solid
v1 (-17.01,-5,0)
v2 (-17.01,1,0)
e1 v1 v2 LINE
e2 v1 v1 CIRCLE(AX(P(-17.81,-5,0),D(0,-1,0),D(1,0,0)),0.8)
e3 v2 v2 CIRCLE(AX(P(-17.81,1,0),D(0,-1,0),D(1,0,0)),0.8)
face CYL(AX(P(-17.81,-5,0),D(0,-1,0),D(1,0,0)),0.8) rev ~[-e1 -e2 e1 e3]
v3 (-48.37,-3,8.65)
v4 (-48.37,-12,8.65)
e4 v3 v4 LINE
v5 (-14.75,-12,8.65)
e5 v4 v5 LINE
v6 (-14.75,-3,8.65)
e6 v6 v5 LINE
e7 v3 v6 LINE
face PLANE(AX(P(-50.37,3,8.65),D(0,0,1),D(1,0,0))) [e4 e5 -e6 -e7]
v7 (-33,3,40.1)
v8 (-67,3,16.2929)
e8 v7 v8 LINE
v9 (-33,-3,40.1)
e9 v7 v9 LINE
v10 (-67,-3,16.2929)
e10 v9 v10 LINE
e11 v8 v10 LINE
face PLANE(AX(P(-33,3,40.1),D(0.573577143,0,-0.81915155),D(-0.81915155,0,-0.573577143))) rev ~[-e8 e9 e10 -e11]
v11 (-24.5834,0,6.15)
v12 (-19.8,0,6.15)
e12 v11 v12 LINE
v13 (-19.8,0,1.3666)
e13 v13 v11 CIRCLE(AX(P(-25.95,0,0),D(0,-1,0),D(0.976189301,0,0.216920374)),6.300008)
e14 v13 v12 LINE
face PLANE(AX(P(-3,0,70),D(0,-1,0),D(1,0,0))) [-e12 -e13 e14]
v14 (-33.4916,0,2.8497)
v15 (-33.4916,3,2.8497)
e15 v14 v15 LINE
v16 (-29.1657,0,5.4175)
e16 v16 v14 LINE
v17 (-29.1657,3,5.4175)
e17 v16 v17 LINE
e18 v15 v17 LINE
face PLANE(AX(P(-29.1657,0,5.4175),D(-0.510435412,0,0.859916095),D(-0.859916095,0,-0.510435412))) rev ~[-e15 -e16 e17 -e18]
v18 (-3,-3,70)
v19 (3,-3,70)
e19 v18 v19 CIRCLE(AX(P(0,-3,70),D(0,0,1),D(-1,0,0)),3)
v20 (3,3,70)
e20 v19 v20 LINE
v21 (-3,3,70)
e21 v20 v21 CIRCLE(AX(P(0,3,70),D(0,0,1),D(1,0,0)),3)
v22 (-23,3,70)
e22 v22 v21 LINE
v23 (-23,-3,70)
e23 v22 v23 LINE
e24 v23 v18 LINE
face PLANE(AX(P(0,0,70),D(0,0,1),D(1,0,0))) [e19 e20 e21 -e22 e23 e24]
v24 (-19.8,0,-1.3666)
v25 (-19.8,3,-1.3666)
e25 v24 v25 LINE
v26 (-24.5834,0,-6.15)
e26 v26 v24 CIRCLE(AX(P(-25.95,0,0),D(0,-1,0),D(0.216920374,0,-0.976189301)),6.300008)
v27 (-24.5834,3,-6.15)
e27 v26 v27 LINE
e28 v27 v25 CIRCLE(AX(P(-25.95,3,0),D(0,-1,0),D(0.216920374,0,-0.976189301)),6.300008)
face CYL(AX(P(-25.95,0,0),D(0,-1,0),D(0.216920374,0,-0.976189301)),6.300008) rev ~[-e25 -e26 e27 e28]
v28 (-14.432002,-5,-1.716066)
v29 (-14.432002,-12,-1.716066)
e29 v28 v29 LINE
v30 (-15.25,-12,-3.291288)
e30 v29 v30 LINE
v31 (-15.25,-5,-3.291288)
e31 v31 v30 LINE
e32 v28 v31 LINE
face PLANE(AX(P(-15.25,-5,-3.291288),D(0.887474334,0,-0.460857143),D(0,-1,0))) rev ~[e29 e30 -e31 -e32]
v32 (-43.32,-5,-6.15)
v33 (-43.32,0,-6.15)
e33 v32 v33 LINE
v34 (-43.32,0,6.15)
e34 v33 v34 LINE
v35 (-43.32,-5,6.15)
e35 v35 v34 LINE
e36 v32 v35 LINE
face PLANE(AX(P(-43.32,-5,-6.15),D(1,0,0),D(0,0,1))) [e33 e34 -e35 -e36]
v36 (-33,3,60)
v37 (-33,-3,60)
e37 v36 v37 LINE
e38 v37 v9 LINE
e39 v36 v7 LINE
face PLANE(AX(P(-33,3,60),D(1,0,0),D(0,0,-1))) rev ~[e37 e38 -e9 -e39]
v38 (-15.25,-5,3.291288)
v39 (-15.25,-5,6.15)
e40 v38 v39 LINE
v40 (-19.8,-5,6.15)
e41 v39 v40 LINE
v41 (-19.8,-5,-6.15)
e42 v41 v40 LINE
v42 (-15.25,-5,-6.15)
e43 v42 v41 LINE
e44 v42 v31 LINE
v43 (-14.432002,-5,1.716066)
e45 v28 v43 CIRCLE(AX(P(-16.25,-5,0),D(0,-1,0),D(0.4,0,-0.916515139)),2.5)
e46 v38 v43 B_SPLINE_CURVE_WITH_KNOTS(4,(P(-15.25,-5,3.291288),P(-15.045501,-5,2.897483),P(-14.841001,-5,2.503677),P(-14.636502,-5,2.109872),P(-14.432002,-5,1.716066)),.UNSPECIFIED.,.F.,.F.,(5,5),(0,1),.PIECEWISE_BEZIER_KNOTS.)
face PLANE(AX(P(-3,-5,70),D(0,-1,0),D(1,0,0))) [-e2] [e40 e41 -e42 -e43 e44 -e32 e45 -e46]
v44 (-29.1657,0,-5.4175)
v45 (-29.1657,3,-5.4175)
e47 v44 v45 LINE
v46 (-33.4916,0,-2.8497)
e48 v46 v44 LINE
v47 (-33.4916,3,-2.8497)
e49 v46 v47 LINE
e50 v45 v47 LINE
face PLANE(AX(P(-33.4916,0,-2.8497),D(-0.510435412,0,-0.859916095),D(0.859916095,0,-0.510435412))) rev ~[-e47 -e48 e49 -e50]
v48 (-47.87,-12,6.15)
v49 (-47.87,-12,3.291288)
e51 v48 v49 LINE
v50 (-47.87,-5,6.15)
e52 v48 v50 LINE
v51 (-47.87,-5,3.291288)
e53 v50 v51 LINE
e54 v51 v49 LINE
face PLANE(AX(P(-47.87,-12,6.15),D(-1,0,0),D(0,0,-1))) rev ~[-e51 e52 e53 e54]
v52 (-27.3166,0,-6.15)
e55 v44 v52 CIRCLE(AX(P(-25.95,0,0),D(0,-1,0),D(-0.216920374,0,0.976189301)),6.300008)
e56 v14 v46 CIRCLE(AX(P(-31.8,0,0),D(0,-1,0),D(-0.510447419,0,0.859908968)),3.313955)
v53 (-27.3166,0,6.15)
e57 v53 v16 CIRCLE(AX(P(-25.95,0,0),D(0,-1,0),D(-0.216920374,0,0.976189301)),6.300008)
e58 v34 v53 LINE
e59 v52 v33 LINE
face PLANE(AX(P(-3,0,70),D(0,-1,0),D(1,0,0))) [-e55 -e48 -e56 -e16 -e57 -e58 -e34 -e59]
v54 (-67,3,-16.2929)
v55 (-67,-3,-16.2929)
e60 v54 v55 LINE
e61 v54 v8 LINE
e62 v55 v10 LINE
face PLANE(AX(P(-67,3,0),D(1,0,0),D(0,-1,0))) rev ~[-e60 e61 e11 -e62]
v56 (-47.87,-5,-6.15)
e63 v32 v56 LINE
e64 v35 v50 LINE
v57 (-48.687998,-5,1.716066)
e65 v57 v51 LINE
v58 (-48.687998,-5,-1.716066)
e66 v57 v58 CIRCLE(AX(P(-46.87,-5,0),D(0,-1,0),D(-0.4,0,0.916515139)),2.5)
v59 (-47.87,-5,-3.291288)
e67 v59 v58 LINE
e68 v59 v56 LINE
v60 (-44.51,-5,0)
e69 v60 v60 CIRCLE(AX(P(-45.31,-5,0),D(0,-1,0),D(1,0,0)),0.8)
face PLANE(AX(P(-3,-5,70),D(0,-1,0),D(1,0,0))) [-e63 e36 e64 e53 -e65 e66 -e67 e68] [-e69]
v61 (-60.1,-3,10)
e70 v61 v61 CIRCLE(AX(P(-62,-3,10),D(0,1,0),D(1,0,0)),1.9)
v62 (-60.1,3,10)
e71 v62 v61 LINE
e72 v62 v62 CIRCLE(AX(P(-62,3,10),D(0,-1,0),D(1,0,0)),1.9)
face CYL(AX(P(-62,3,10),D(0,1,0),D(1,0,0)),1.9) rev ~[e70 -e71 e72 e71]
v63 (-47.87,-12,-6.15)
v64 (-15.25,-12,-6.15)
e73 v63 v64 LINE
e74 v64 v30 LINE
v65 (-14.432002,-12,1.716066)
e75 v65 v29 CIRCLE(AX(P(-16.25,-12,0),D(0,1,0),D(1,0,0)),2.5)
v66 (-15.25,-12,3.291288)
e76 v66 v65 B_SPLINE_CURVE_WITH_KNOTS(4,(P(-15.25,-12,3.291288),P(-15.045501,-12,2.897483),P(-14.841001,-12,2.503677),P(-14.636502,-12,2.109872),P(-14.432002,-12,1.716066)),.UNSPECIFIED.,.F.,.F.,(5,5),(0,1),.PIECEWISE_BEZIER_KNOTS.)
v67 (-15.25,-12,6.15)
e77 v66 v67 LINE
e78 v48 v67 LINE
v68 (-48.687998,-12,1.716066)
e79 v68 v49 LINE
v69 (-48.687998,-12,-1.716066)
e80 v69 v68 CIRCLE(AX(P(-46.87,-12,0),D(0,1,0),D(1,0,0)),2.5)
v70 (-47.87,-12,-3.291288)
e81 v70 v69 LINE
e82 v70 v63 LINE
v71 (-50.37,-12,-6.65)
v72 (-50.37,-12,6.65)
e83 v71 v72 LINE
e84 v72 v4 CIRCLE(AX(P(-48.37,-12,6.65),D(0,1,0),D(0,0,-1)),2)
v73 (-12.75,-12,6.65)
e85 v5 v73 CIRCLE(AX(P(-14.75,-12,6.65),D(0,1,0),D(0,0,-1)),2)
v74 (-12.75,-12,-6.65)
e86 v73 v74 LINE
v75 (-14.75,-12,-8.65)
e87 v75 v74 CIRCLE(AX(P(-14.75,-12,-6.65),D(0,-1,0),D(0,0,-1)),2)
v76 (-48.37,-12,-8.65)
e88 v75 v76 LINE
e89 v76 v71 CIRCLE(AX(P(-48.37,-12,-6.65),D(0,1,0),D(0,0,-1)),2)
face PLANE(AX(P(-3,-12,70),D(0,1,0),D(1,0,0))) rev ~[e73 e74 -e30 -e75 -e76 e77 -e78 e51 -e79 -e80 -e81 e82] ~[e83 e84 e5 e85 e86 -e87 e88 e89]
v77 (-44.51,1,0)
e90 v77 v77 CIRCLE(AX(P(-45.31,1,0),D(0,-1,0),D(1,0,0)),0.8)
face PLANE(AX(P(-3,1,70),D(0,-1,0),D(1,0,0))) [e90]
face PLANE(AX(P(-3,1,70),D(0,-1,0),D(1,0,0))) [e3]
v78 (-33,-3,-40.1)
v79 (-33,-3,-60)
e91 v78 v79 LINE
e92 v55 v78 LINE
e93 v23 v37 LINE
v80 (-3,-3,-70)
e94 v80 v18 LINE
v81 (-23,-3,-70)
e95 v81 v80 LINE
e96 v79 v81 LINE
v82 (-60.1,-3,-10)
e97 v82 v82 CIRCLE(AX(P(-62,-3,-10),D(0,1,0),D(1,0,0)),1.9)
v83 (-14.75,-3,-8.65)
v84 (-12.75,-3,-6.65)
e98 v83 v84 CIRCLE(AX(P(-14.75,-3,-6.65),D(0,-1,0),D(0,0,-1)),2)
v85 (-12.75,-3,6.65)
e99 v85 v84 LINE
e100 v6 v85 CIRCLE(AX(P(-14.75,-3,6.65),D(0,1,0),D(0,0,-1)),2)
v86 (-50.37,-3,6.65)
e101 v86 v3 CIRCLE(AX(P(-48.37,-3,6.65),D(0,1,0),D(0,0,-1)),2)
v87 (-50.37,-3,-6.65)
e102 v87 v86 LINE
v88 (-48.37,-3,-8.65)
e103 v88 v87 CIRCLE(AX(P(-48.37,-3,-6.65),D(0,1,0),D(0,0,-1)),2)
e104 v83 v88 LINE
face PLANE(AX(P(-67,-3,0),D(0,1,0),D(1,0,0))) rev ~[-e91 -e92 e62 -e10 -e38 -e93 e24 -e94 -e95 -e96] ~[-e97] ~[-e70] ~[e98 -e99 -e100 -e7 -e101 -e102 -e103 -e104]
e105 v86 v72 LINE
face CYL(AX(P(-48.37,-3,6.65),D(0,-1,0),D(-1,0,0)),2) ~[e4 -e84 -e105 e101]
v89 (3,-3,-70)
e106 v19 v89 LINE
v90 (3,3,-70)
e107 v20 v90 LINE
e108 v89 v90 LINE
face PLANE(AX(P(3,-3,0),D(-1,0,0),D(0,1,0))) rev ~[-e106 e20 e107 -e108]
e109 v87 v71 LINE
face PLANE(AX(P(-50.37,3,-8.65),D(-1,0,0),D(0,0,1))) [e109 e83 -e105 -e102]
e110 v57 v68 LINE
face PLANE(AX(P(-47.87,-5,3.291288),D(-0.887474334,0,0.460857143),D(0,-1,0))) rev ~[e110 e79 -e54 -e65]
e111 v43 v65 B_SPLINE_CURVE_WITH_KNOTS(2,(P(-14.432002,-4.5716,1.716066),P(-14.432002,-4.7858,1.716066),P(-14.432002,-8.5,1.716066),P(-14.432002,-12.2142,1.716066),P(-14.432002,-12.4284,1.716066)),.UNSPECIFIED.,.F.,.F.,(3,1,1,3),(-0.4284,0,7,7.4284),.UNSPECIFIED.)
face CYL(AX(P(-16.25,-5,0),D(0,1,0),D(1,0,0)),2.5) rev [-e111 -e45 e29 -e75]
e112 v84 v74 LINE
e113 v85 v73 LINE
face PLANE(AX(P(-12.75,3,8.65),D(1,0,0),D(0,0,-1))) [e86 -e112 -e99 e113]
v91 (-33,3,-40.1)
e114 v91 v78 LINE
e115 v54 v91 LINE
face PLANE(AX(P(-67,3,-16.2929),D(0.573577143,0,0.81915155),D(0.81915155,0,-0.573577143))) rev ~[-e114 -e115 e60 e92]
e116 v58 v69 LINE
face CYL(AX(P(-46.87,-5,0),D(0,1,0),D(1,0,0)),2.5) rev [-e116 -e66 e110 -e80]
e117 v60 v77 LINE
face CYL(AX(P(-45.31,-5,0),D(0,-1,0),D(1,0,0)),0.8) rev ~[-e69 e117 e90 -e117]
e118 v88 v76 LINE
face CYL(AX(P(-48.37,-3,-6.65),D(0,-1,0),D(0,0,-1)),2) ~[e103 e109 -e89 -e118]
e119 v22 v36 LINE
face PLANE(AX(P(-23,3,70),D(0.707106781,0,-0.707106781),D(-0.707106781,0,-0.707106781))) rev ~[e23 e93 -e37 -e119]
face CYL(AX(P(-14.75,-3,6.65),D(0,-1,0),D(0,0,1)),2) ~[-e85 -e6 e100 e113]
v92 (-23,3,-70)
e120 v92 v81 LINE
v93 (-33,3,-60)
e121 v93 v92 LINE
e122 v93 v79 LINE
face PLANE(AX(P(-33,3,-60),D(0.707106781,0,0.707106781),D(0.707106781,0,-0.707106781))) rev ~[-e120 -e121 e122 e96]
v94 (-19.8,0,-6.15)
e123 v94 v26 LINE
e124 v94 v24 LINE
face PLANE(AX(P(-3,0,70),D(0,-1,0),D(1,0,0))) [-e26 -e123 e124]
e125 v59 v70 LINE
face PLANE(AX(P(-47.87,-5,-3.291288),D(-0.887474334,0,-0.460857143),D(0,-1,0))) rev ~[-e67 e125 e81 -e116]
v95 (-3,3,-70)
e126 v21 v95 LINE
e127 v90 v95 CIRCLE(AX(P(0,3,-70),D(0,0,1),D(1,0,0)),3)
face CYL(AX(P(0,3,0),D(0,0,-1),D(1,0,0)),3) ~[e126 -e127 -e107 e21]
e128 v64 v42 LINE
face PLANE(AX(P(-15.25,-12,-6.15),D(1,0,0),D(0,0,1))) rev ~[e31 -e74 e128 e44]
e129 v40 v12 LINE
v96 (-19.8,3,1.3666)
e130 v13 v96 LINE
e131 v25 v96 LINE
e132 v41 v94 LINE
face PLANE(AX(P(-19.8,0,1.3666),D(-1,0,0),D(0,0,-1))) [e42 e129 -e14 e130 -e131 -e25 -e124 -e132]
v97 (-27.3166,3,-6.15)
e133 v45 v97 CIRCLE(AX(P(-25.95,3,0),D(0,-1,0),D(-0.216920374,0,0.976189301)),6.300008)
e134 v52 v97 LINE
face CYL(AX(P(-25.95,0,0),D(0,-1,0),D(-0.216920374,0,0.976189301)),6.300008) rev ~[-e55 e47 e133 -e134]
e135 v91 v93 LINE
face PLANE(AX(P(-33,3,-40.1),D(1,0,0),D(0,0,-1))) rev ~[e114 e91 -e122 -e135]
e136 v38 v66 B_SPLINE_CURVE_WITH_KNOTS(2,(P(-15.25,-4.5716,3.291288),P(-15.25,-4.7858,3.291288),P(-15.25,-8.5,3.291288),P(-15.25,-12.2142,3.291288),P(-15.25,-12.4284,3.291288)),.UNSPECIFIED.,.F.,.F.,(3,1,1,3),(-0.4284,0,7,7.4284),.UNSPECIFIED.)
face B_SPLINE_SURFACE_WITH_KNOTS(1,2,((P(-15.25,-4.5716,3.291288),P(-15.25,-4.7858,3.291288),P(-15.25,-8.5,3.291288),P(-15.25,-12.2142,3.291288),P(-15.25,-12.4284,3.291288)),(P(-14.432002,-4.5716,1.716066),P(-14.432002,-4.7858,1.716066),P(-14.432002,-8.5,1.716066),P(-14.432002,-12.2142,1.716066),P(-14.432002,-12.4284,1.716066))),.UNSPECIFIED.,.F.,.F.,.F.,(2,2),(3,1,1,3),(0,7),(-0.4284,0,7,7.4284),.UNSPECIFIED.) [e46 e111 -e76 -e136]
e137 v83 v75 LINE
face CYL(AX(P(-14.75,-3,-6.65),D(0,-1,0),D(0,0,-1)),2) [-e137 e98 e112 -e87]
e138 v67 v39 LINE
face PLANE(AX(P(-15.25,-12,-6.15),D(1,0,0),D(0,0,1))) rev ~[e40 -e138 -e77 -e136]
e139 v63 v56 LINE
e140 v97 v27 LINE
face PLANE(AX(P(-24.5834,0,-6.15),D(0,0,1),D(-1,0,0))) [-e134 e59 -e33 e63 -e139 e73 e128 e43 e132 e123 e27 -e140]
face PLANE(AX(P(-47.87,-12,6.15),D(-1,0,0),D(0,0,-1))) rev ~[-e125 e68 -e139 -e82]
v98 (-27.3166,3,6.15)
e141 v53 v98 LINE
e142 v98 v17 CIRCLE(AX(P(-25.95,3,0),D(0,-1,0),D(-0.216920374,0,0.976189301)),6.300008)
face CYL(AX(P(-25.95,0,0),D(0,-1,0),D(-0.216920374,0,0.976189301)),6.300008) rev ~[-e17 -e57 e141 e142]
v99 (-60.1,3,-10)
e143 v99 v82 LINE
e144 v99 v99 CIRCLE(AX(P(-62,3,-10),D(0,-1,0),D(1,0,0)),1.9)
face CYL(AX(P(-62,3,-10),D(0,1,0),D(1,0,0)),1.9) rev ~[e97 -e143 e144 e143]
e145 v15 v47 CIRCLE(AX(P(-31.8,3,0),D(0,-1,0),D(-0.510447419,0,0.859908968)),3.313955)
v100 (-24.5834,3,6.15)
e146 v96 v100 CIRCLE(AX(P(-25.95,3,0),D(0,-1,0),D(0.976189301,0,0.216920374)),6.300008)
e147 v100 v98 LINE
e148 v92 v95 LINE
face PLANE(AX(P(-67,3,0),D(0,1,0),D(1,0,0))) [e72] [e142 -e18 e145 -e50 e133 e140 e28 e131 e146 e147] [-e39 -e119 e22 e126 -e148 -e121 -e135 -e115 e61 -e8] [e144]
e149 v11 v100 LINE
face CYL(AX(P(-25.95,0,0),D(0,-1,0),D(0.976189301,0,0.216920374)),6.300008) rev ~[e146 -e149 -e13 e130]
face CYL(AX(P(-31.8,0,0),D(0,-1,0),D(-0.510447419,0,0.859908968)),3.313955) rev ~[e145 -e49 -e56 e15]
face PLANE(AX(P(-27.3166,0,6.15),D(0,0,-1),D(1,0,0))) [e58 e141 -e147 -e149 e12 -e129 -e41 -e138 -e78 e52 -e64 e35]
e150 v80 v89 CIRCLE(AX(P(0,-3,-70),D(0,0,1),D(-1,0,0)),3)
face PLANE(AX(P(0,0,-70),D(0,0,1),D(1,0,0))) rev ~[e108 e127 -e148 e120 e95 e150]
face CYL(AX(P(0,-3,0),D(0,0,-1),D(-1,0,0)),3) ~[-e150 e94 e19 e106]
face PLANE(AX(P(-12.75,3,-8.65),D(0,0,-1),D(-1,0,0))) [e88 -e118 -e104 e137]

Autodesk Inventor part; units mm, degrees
ref_plane "YZ Plane" through (0, 0, 0) normal (1, 0, 0) x (0, 1, 0)
ref_plane "XY Plane" through (0, 0, 0) normal (0, 0, 1) x (1, 0, 0)
sketch "Sketch1" plane through (0, 0, 0) normal (0, 0, 1) x (1, 0, 0)
  line L0 (-67, 3) -> (-67, -3)
  line L1 (-67, -3) -> (-3, -3)
  line L2 (-67, 3) -> (-3, 3)
  line L3 (0, -3) -> (0, 3) construction
  line L4 (3, -3) -> (3, 3)
  line L5 (-3, 3) -> (-3, -3)
  arc A0 (-3, -3) -> (3, -3) centre (0, -3) ccw
  arc A1 (3, 3) -> (-3, 3) centre (0, 3) ccw
  point P0 (0, 0)
  point P1 (-3, -3)
  dimension "d0" = 70
  dimension "d1" = 3
  dimension "d2" = 6
  dimension "d3" = 6
extrude "Extrusion1" add sketch "Sketch1" along normal mid plane 140
sketch "Sketch2" plane through (-67, 3, 70) normal (0, 1, 0) x (1, 0, 0)
  line L0 (0, 0) -> (64, 0) projected
  line L1 (64, 0) -> (44, 0)
  line L2 (0, 140) -> (0, 0) projected
  line L3 (44, 0) -> (34, 10)
  line L4 (34, 10) -> (34, 29.9)
  line L5 (34, 29.9) -> (0, 53.7071)
  line L6 (0, 53.7071) -> (0, 86.2929)
  line L7 (0, 86.2929) -> (34, 110.1)
  line L8 (34, 110.1) -> (34, 130)
  line L9 (34, 130) -> (44, 140)
  line L10 (0, 140) -> (64, 140) projected
  line L11 (44, 140) -> (64, 140)
  line L12 (64, 140) -> (64, 0) projected
  point P0 (67, 70)
  dimension "d6" = 20
  dimension "d7" = 20
  dimension "d8" = 30
  dimension "d9" = 45
  dimension "d10" = 45
  dimension "d11" = 19.9
  dimension "d12" = 19.9
  dimension "d13" = 125
  dimension "d14" = 125
extrude "Extrusion2" cut sketch "Sketch2" against normal through all contours L2 L5 L4 L3 L0 | L2 L10 L9 L8 L7
sketch "Sketch3" plane through (-3, 3, 70) normal (0, 1, 0) x (1, 0, 0)
  circle A0 centre (-59, 80) radius 1.9
  circle A1 centre (-59, 60) radius 1.9
  line L0 (-64, 86.2929) -> (-64, 53.7071) projected
  line L1 (-59, 80) -> (-59, 60)
  point P0 (3, 70)
  point P1 (-64, 70)
  dimension "d17" = 3.8
  dimension "d18" = 3.8
  dimension "d19" = 20
  dimension "d20" = 10
  dimension "d21" = 5
extrude "Extrusion3" cut sketch "Sketch3" against normal through all
sketch "Sketch4" plane through (-3, 3, 70) normal (0, 1, 0) x (1, 0, 0)
  line L0 (-44.67, 64.05) -> (-12.45, 64.05)
  line L1 (-12.45, 64.05) -> (-12.45, 75.95)
  line L2 (-12.45, 75.95) -> (-44.67, 75.95)
  line L3 (-44.67, 75.95) -> (-44.67, 64.05)
  line L4 (-44.67, 64.05) -> (-12.45, 75.95) construction
  line L5 (-12.45, 64.05) -> (-44.67, 75.95) construction
  line L6 (6, 140) -> (6, 0) projected
  line L7 (6, 70) -> (-4, 70)
  line L8 (-40.17, 64.05) -> (-16.95, 64.05)
  line L9 (-16.95, 64.05) -> (-16.95, 75.95)
  line L10 (-16.95, 75.95) -> (-40.17, 75.95)
  line L11 (-40.17, 75.95) -> (-40.17, 64.05)
  line L12 (0, 140) -> (0, 0) projected
  line L13 (-44.87, 76.15) -> (-12.25, 76.15)
  line L14 (-12.25, 76.15) -> (-12.25, 63.85)
  line L15 (-12.25, 63.85) -> (-44.87, 63.85)
  line L16 (-44.87, 63.85) -> (-44.87, 76.15)
  line L17 (-47.37, 78.65) -> (-47.37, 61.35)
  line L18 (-9.75, 61.35) -> (-9.75, 78.65)
  circle A0 centre (-59, 80) radius 1.9 projected
  circle A1 centre (-59, 60) radius 1.9 projected
  line L19 (-47.37, 61.35) -> (-60.337, 61.35)
  line L20 (-57.663, 61.35) -> (-9.75, 61.35)
  line L21 (-9.75, 78.65) -> (-57.663, 78.65)
  line L22 (-60.337, 78.65) -> (-47.37, 78.65)
  circle A2 centre (-29, 70) radius 2.45
  point P0 (3, 70)
  point P1 (-28.56, 70)
  point P2 (-47.37, 78.65)
  point P3 (-47.37, 61.35)
  point P4 (-57.663, 61.35)
  point P5 (-57.663, 78.65)
  dimension "d24" = 32.22
  dimension "d25" = 11.9
  dimension "d26" = 4.5
  dimension "d27" = 4.5
  dimension "d30" = 0.2
  dimension "d34" = 2.5
  dimension "d35" = 2.5
  dimension "d36" = 2.5
  dimension "d37" = 2.5
  dimension "d51" = 29
  dimension "d52" = 12.05
  dimension "d53" = 4.9
extrude "Extrusion4" add sketch "Sketch4" against normal blind 15 contours L3 L2 L11 L0 | L11 L2 L9 L0 | L9 L2 L1 L0 | L13 L14 L15 L16 | L21 L18 L20 L17 | A2
sketch "Sketch5" plane through (-3, -12, 70) normal (0, -1, 0) x (1, 0, 0)
  circle A0 centre (-59, -80) radius 1.9 projected
  circle A1 centre (-59, -60) radius 1.9 projected
  line L0 (-30, -110.1) -> (-64, -86.2929) projected
  line L1 (-64, -86.2929) -> (-64, -53.7071) projected
  line L2 (-64, -53.7071) -> (-30, -29.9) projected
  line L3 (-30, -29.9) -> (-30, -10) projected
  line L4 (-30, -10) -> (-20, 0) projected
  line L5 (0, 0) -> (-20, 0) projected
  line L6 (0, -140) -> (0, 0) projected
  line L7 (-20, -140) -> (0, -140) projected
  line L8 (-20, -140) -> (-30, -130) projected
  line L9 (-30, -130) -> (-30, -110.1) projected
  line L10 (-12.45, -75.95) -> (-44.67, -75.95) projected
  line L11 (-16.95, -64.05) -> (-16.95, -75.95) projected
  line L12 (-44.87, -76.15) -> (-12.25, -76.15) projected
  line L13 (-12.25, -76.15) -> (-12.25, -63.85) projected
  line L14 (-12.45, -64.05) -> (-12.45, -75.95) projected
  line L15 (-44.67, -64.05) -> (-12.45, -64.05) projected
  line L16 (-12.25, -63.85) -> (-44.87, -63.85) projected
  line L17 (-44.87, -63.85) -> (-44.87, -76.15) projected
  line L18 (-44.67, -75.95) -> (-44.67, -64.05) projected
  line L19 (-44.67, -64.05) -> (-12.45, -75.95) construction
  line L20 (-40.17, -75.95) -> (-40.17, -64.05) projected
  line L21 (-40.17, -75.95) -> (-40.17, -76.15)
  line L22 (-40.17, -64.05) -> (-40.17, -63.85)
  line L23 (-16.95, -76.15) -> (-16.95, -75.95)
  line L24 (-16.95, -64.05) -> (-16.95, -63.85)
  point P0 (3, -70)
extrude "Extrusion5" cut sketch "Sketch5" against normal blind 7 contours L14 L15 L24 L16 L13 L12 L23 L10 | L10 L11 L15 L14 | L23 L12 L21 L10 | L10 L20 L15 L11 | L21 L12 L17 L16 L22 L15 L18 L10 | L10 L18 L15 L20 | L15 L22 L16 L24
sketch "Sketch6" plane through (-3, -5, 70) normal (0, -1, 0) x (1, 0, 0)
  line L0 (-16.95, -64.05) -> (-16.95, -75.95) construction
  line L1 (-12.45, -64.05) -> (-44.67, -75.95) construction
  line L2 (-40.17, -75.95) -> (-40.17, -64.05) construction
  line L3 (-12.25, -63.85) -> (-12.25, -76.15) projected
  line L4 (-44.87, -63.85) -> (-12.25, -63.85) projected
  line L5 (-44.87, -76.15) -> (-44.87, -63.85) projected
  line L6 (-12.25, -76.15) -> (-44.87, -76.15) projected
  line L7 (-16.95, -64.05) -> (-16.95, -63.85)
  line L8 (-44.87, -63.85) -> (-12.25, -63.85) projected
  line L9 (-16.95, -75.95) -> (-16.95, -76.15)
  line L10 (-40.17, -76.15) -> (-40.17, -75.95)
  line L11 (-40.17, -64.05) -> (-40.17, -63.85)
  line L12 (-40.32, -76.15) -> (-40.32, -63.85)
  line L13 (-16.8, -76.15) -> (-16.8, -63.85)
  line L14 (-40.32, -76.15) -> (-16.8, -76.15)
  line L15 (-16.8, -76.15) -> (-16.8, -63.85)
  line L16 (-16.8, -63.85) -> (-40.32, -63.85)
  line L17 (-40.32, -63.85) -> (-40.32, -76.15)
  point P0 (3, -70)
  dimension "d40" = 0.15
  dimension "d41" = 0.15
extrude "Extrusion6" cut sketch "Sketch6" against normal blind 5 contours L13 L6 L12 L4
sketch "Sketch7" plane through (-3, 0, 70) normal (0, -1, 0) x (1, 0, 0)
  line L0 (-16.8, -63.85) -> (-16.8, -76.15) projected
  line L1 (-16.8, -70) -> (-21, -70)
  circle A0 centre (-22.95, -70) radius 6.15 construction
  line L2 (-44.87, -63.85) -> (-12.25, -63.85) projected
  arc A1 (-24.3166, -63.85) -> (-24.3166, -76.15) centre (-22.95, -70) ccw
  circle A2 centre (-28.8, -70) radius 3 construction
  line L3 (-24.3166, -63.85) -> (-30.3313, -67.4202) construction
  line L4 (-30.3313, -72.5798) -> (-24.3166, -76.15) construction
  line L5 (-12.25, -76.15) -> (-44.87, -76.15) projected
  arc A3 (-21.5834, -63.85) -> (-24.3166, -63.85) centre (-22.95, -70) ccw construction
  arc A4 (-21.5834, -76.15) -> (-16.8, -71.3666) centre (-22.95, -70) ccw
  arc A5 (-24.3166, -76.15) -> (-21.5834, -76.15) centre (-22.95, -70) ccw construction
  arc A6 (-16.8, -71.3666) -> (-16.8, -68.6334) centre (-22.95, -70) ccw construction
  arc A7 (-16.8, -68.6334) -> (-21.5834, -63.85) centre (-22.95, -70) ccw
  line L6 (-26.1657, -64.5825) -> (-30.4916, -67.1503)
  arc A8 (-28.169, -66.7467) -> (-28.3286, -66.7197) centre (-28.8, -70) ccw
  arc A9 (-30.4916, -67.1503) -> (-30.4916, -72.8497) centre (-28.8, -70) ccw
  line L7 (-30.4916, -72.8497) -> (-26.1657, -75.4175)
  point P0 (3, -70)
  dimension "d44" = 0.15
  dimension "d45" = 6
  dimension "d46" = 12
extrude "Extrusion7" cut sketch "Sketch7" against normal through all contours L0 A4 L5 A1 L2 A7 | A1 L7 A9 L6
fillet "Fillet1" radius 2 4 edges at (-12.75, -7.5, -8.65) (-50.37, -7.5, -8.65) (-50.37, -7.5, 8.65) (-12.75, -7.5, 8.65)
sketch "Sketch9" plane through (-3, -5, 70) normal (0, -1, 0) x (1, 0, 0)
  circle A0 centre (-14.81, -70) radius 0.8
  line L0 (3, -70) -> (-41.3866, -70) construction
  line L1 (-40.32, -76.15) -> (-40.32, -63.85) projected
  line L2 (6, -140) -> (6, 0) projected
  circle A1 centre (-42.31, -70) radius 0.8
  dimension "d64" = 1.6
  dimension "d65" = 20.81
  dimension "d66" = 1.6
  dimension "d67" = 27.5
extrude "Extrusion9" cut sketch "Sketch9" against normal blind 6
sketch "Sketch10" plane through (-3, -5, 70) normal (0, -1, 0) x (1, 0, 0)
  circle A0 centre (-14.81, -70) radius 0.8 projected
  circle A1 centre (-42.31, -70) radius 0.8 projected
  line L0 (-12.4678, -70) -> (-46, -70)
  line L1 (-44.87, -63.85) -> (-12.25, -63.85) projected
  line L2 (-12.25, -63.85) -> (-12.25, -76.15) projected
  line L3 (-12.25, -76.15) -> (-44.87, -76.15) projected
  line L4 (-44.87, -76.15) -> (-44.87, -63.85) projected
  arc A2 (-9.75, -63.35) -> (-11.75, -61.35) centre (-11.75, -63.35) ccw projected
  line L5 (-11.75, -61.35) -> (-45.37, -61.35) projected
  arc A3 (-45.37, -61.35) -> (-47.37, -63.35) centre (-45.37, -63.35) ccw projected
  line L6 (-47.37, -63.35) -> (-47.37, -76.65) projected
  arc A4 (-47.37, -76.65) -> (-45.37, -78.65) centre (-45.37, -76.65) ccw projected
  line L7 (-45.37, -78.65) -> (-11.75, -78.65) projected
  arc A5 (-11.75, -78.65) -> (-9.75, -76.65) centre (-11.75, -76.65) ccw projected
  line L8 (-9.75, -76.65) -> (-9.75, -63.35) projected
  line L9 (-10.75, -63.35) -> (-10.75, -76.65)
  line L10 (-46.37, -64) -> (-46.37, -74.4084)
  circle A6 centre (-43.87, -70) radius 2.5
  circle A7 centre (-13.25, -70) radius 2.5
  point P0 (3, -70)
  point P1 (-44.87, -67.7087)
  point P2 (-44.87, -72.2913)
  point P3 (-12.25, -67.7087)
  point P4 (-12.25, -72.2913)
  dimension "d70" = 1
  dimension "d71" = 1
  dimension "d72" = 5
  dimension "d73" = 5
extrude "Extrusion10" cut sketch "Sketch10" along normal through all contours A7 L2 | L4 A6 picked at (-11.5834, -70.097)
chamfer "Chamfer1" distance 1 angle 45 4 edges at (-15.25, -8.5, 2.2913) (-15.25, -8.5, -2.2913) (-47.87, -8.5, -2.2913) (-47.87, -8.5, 2.2913)
equation "\"d7\" = d6"
equation "\"d10\" = d9"
equation "\"d12\" = d11"
equation "\"d14\" = d13"
equation "\"d17\" = d18"
equation "\"d27\" = d26"
equation "\"d34\" = d36"
equation "\"d35\" = d36"
equation "\"d37\" = d36"
properties part number "gripper_head 1"
